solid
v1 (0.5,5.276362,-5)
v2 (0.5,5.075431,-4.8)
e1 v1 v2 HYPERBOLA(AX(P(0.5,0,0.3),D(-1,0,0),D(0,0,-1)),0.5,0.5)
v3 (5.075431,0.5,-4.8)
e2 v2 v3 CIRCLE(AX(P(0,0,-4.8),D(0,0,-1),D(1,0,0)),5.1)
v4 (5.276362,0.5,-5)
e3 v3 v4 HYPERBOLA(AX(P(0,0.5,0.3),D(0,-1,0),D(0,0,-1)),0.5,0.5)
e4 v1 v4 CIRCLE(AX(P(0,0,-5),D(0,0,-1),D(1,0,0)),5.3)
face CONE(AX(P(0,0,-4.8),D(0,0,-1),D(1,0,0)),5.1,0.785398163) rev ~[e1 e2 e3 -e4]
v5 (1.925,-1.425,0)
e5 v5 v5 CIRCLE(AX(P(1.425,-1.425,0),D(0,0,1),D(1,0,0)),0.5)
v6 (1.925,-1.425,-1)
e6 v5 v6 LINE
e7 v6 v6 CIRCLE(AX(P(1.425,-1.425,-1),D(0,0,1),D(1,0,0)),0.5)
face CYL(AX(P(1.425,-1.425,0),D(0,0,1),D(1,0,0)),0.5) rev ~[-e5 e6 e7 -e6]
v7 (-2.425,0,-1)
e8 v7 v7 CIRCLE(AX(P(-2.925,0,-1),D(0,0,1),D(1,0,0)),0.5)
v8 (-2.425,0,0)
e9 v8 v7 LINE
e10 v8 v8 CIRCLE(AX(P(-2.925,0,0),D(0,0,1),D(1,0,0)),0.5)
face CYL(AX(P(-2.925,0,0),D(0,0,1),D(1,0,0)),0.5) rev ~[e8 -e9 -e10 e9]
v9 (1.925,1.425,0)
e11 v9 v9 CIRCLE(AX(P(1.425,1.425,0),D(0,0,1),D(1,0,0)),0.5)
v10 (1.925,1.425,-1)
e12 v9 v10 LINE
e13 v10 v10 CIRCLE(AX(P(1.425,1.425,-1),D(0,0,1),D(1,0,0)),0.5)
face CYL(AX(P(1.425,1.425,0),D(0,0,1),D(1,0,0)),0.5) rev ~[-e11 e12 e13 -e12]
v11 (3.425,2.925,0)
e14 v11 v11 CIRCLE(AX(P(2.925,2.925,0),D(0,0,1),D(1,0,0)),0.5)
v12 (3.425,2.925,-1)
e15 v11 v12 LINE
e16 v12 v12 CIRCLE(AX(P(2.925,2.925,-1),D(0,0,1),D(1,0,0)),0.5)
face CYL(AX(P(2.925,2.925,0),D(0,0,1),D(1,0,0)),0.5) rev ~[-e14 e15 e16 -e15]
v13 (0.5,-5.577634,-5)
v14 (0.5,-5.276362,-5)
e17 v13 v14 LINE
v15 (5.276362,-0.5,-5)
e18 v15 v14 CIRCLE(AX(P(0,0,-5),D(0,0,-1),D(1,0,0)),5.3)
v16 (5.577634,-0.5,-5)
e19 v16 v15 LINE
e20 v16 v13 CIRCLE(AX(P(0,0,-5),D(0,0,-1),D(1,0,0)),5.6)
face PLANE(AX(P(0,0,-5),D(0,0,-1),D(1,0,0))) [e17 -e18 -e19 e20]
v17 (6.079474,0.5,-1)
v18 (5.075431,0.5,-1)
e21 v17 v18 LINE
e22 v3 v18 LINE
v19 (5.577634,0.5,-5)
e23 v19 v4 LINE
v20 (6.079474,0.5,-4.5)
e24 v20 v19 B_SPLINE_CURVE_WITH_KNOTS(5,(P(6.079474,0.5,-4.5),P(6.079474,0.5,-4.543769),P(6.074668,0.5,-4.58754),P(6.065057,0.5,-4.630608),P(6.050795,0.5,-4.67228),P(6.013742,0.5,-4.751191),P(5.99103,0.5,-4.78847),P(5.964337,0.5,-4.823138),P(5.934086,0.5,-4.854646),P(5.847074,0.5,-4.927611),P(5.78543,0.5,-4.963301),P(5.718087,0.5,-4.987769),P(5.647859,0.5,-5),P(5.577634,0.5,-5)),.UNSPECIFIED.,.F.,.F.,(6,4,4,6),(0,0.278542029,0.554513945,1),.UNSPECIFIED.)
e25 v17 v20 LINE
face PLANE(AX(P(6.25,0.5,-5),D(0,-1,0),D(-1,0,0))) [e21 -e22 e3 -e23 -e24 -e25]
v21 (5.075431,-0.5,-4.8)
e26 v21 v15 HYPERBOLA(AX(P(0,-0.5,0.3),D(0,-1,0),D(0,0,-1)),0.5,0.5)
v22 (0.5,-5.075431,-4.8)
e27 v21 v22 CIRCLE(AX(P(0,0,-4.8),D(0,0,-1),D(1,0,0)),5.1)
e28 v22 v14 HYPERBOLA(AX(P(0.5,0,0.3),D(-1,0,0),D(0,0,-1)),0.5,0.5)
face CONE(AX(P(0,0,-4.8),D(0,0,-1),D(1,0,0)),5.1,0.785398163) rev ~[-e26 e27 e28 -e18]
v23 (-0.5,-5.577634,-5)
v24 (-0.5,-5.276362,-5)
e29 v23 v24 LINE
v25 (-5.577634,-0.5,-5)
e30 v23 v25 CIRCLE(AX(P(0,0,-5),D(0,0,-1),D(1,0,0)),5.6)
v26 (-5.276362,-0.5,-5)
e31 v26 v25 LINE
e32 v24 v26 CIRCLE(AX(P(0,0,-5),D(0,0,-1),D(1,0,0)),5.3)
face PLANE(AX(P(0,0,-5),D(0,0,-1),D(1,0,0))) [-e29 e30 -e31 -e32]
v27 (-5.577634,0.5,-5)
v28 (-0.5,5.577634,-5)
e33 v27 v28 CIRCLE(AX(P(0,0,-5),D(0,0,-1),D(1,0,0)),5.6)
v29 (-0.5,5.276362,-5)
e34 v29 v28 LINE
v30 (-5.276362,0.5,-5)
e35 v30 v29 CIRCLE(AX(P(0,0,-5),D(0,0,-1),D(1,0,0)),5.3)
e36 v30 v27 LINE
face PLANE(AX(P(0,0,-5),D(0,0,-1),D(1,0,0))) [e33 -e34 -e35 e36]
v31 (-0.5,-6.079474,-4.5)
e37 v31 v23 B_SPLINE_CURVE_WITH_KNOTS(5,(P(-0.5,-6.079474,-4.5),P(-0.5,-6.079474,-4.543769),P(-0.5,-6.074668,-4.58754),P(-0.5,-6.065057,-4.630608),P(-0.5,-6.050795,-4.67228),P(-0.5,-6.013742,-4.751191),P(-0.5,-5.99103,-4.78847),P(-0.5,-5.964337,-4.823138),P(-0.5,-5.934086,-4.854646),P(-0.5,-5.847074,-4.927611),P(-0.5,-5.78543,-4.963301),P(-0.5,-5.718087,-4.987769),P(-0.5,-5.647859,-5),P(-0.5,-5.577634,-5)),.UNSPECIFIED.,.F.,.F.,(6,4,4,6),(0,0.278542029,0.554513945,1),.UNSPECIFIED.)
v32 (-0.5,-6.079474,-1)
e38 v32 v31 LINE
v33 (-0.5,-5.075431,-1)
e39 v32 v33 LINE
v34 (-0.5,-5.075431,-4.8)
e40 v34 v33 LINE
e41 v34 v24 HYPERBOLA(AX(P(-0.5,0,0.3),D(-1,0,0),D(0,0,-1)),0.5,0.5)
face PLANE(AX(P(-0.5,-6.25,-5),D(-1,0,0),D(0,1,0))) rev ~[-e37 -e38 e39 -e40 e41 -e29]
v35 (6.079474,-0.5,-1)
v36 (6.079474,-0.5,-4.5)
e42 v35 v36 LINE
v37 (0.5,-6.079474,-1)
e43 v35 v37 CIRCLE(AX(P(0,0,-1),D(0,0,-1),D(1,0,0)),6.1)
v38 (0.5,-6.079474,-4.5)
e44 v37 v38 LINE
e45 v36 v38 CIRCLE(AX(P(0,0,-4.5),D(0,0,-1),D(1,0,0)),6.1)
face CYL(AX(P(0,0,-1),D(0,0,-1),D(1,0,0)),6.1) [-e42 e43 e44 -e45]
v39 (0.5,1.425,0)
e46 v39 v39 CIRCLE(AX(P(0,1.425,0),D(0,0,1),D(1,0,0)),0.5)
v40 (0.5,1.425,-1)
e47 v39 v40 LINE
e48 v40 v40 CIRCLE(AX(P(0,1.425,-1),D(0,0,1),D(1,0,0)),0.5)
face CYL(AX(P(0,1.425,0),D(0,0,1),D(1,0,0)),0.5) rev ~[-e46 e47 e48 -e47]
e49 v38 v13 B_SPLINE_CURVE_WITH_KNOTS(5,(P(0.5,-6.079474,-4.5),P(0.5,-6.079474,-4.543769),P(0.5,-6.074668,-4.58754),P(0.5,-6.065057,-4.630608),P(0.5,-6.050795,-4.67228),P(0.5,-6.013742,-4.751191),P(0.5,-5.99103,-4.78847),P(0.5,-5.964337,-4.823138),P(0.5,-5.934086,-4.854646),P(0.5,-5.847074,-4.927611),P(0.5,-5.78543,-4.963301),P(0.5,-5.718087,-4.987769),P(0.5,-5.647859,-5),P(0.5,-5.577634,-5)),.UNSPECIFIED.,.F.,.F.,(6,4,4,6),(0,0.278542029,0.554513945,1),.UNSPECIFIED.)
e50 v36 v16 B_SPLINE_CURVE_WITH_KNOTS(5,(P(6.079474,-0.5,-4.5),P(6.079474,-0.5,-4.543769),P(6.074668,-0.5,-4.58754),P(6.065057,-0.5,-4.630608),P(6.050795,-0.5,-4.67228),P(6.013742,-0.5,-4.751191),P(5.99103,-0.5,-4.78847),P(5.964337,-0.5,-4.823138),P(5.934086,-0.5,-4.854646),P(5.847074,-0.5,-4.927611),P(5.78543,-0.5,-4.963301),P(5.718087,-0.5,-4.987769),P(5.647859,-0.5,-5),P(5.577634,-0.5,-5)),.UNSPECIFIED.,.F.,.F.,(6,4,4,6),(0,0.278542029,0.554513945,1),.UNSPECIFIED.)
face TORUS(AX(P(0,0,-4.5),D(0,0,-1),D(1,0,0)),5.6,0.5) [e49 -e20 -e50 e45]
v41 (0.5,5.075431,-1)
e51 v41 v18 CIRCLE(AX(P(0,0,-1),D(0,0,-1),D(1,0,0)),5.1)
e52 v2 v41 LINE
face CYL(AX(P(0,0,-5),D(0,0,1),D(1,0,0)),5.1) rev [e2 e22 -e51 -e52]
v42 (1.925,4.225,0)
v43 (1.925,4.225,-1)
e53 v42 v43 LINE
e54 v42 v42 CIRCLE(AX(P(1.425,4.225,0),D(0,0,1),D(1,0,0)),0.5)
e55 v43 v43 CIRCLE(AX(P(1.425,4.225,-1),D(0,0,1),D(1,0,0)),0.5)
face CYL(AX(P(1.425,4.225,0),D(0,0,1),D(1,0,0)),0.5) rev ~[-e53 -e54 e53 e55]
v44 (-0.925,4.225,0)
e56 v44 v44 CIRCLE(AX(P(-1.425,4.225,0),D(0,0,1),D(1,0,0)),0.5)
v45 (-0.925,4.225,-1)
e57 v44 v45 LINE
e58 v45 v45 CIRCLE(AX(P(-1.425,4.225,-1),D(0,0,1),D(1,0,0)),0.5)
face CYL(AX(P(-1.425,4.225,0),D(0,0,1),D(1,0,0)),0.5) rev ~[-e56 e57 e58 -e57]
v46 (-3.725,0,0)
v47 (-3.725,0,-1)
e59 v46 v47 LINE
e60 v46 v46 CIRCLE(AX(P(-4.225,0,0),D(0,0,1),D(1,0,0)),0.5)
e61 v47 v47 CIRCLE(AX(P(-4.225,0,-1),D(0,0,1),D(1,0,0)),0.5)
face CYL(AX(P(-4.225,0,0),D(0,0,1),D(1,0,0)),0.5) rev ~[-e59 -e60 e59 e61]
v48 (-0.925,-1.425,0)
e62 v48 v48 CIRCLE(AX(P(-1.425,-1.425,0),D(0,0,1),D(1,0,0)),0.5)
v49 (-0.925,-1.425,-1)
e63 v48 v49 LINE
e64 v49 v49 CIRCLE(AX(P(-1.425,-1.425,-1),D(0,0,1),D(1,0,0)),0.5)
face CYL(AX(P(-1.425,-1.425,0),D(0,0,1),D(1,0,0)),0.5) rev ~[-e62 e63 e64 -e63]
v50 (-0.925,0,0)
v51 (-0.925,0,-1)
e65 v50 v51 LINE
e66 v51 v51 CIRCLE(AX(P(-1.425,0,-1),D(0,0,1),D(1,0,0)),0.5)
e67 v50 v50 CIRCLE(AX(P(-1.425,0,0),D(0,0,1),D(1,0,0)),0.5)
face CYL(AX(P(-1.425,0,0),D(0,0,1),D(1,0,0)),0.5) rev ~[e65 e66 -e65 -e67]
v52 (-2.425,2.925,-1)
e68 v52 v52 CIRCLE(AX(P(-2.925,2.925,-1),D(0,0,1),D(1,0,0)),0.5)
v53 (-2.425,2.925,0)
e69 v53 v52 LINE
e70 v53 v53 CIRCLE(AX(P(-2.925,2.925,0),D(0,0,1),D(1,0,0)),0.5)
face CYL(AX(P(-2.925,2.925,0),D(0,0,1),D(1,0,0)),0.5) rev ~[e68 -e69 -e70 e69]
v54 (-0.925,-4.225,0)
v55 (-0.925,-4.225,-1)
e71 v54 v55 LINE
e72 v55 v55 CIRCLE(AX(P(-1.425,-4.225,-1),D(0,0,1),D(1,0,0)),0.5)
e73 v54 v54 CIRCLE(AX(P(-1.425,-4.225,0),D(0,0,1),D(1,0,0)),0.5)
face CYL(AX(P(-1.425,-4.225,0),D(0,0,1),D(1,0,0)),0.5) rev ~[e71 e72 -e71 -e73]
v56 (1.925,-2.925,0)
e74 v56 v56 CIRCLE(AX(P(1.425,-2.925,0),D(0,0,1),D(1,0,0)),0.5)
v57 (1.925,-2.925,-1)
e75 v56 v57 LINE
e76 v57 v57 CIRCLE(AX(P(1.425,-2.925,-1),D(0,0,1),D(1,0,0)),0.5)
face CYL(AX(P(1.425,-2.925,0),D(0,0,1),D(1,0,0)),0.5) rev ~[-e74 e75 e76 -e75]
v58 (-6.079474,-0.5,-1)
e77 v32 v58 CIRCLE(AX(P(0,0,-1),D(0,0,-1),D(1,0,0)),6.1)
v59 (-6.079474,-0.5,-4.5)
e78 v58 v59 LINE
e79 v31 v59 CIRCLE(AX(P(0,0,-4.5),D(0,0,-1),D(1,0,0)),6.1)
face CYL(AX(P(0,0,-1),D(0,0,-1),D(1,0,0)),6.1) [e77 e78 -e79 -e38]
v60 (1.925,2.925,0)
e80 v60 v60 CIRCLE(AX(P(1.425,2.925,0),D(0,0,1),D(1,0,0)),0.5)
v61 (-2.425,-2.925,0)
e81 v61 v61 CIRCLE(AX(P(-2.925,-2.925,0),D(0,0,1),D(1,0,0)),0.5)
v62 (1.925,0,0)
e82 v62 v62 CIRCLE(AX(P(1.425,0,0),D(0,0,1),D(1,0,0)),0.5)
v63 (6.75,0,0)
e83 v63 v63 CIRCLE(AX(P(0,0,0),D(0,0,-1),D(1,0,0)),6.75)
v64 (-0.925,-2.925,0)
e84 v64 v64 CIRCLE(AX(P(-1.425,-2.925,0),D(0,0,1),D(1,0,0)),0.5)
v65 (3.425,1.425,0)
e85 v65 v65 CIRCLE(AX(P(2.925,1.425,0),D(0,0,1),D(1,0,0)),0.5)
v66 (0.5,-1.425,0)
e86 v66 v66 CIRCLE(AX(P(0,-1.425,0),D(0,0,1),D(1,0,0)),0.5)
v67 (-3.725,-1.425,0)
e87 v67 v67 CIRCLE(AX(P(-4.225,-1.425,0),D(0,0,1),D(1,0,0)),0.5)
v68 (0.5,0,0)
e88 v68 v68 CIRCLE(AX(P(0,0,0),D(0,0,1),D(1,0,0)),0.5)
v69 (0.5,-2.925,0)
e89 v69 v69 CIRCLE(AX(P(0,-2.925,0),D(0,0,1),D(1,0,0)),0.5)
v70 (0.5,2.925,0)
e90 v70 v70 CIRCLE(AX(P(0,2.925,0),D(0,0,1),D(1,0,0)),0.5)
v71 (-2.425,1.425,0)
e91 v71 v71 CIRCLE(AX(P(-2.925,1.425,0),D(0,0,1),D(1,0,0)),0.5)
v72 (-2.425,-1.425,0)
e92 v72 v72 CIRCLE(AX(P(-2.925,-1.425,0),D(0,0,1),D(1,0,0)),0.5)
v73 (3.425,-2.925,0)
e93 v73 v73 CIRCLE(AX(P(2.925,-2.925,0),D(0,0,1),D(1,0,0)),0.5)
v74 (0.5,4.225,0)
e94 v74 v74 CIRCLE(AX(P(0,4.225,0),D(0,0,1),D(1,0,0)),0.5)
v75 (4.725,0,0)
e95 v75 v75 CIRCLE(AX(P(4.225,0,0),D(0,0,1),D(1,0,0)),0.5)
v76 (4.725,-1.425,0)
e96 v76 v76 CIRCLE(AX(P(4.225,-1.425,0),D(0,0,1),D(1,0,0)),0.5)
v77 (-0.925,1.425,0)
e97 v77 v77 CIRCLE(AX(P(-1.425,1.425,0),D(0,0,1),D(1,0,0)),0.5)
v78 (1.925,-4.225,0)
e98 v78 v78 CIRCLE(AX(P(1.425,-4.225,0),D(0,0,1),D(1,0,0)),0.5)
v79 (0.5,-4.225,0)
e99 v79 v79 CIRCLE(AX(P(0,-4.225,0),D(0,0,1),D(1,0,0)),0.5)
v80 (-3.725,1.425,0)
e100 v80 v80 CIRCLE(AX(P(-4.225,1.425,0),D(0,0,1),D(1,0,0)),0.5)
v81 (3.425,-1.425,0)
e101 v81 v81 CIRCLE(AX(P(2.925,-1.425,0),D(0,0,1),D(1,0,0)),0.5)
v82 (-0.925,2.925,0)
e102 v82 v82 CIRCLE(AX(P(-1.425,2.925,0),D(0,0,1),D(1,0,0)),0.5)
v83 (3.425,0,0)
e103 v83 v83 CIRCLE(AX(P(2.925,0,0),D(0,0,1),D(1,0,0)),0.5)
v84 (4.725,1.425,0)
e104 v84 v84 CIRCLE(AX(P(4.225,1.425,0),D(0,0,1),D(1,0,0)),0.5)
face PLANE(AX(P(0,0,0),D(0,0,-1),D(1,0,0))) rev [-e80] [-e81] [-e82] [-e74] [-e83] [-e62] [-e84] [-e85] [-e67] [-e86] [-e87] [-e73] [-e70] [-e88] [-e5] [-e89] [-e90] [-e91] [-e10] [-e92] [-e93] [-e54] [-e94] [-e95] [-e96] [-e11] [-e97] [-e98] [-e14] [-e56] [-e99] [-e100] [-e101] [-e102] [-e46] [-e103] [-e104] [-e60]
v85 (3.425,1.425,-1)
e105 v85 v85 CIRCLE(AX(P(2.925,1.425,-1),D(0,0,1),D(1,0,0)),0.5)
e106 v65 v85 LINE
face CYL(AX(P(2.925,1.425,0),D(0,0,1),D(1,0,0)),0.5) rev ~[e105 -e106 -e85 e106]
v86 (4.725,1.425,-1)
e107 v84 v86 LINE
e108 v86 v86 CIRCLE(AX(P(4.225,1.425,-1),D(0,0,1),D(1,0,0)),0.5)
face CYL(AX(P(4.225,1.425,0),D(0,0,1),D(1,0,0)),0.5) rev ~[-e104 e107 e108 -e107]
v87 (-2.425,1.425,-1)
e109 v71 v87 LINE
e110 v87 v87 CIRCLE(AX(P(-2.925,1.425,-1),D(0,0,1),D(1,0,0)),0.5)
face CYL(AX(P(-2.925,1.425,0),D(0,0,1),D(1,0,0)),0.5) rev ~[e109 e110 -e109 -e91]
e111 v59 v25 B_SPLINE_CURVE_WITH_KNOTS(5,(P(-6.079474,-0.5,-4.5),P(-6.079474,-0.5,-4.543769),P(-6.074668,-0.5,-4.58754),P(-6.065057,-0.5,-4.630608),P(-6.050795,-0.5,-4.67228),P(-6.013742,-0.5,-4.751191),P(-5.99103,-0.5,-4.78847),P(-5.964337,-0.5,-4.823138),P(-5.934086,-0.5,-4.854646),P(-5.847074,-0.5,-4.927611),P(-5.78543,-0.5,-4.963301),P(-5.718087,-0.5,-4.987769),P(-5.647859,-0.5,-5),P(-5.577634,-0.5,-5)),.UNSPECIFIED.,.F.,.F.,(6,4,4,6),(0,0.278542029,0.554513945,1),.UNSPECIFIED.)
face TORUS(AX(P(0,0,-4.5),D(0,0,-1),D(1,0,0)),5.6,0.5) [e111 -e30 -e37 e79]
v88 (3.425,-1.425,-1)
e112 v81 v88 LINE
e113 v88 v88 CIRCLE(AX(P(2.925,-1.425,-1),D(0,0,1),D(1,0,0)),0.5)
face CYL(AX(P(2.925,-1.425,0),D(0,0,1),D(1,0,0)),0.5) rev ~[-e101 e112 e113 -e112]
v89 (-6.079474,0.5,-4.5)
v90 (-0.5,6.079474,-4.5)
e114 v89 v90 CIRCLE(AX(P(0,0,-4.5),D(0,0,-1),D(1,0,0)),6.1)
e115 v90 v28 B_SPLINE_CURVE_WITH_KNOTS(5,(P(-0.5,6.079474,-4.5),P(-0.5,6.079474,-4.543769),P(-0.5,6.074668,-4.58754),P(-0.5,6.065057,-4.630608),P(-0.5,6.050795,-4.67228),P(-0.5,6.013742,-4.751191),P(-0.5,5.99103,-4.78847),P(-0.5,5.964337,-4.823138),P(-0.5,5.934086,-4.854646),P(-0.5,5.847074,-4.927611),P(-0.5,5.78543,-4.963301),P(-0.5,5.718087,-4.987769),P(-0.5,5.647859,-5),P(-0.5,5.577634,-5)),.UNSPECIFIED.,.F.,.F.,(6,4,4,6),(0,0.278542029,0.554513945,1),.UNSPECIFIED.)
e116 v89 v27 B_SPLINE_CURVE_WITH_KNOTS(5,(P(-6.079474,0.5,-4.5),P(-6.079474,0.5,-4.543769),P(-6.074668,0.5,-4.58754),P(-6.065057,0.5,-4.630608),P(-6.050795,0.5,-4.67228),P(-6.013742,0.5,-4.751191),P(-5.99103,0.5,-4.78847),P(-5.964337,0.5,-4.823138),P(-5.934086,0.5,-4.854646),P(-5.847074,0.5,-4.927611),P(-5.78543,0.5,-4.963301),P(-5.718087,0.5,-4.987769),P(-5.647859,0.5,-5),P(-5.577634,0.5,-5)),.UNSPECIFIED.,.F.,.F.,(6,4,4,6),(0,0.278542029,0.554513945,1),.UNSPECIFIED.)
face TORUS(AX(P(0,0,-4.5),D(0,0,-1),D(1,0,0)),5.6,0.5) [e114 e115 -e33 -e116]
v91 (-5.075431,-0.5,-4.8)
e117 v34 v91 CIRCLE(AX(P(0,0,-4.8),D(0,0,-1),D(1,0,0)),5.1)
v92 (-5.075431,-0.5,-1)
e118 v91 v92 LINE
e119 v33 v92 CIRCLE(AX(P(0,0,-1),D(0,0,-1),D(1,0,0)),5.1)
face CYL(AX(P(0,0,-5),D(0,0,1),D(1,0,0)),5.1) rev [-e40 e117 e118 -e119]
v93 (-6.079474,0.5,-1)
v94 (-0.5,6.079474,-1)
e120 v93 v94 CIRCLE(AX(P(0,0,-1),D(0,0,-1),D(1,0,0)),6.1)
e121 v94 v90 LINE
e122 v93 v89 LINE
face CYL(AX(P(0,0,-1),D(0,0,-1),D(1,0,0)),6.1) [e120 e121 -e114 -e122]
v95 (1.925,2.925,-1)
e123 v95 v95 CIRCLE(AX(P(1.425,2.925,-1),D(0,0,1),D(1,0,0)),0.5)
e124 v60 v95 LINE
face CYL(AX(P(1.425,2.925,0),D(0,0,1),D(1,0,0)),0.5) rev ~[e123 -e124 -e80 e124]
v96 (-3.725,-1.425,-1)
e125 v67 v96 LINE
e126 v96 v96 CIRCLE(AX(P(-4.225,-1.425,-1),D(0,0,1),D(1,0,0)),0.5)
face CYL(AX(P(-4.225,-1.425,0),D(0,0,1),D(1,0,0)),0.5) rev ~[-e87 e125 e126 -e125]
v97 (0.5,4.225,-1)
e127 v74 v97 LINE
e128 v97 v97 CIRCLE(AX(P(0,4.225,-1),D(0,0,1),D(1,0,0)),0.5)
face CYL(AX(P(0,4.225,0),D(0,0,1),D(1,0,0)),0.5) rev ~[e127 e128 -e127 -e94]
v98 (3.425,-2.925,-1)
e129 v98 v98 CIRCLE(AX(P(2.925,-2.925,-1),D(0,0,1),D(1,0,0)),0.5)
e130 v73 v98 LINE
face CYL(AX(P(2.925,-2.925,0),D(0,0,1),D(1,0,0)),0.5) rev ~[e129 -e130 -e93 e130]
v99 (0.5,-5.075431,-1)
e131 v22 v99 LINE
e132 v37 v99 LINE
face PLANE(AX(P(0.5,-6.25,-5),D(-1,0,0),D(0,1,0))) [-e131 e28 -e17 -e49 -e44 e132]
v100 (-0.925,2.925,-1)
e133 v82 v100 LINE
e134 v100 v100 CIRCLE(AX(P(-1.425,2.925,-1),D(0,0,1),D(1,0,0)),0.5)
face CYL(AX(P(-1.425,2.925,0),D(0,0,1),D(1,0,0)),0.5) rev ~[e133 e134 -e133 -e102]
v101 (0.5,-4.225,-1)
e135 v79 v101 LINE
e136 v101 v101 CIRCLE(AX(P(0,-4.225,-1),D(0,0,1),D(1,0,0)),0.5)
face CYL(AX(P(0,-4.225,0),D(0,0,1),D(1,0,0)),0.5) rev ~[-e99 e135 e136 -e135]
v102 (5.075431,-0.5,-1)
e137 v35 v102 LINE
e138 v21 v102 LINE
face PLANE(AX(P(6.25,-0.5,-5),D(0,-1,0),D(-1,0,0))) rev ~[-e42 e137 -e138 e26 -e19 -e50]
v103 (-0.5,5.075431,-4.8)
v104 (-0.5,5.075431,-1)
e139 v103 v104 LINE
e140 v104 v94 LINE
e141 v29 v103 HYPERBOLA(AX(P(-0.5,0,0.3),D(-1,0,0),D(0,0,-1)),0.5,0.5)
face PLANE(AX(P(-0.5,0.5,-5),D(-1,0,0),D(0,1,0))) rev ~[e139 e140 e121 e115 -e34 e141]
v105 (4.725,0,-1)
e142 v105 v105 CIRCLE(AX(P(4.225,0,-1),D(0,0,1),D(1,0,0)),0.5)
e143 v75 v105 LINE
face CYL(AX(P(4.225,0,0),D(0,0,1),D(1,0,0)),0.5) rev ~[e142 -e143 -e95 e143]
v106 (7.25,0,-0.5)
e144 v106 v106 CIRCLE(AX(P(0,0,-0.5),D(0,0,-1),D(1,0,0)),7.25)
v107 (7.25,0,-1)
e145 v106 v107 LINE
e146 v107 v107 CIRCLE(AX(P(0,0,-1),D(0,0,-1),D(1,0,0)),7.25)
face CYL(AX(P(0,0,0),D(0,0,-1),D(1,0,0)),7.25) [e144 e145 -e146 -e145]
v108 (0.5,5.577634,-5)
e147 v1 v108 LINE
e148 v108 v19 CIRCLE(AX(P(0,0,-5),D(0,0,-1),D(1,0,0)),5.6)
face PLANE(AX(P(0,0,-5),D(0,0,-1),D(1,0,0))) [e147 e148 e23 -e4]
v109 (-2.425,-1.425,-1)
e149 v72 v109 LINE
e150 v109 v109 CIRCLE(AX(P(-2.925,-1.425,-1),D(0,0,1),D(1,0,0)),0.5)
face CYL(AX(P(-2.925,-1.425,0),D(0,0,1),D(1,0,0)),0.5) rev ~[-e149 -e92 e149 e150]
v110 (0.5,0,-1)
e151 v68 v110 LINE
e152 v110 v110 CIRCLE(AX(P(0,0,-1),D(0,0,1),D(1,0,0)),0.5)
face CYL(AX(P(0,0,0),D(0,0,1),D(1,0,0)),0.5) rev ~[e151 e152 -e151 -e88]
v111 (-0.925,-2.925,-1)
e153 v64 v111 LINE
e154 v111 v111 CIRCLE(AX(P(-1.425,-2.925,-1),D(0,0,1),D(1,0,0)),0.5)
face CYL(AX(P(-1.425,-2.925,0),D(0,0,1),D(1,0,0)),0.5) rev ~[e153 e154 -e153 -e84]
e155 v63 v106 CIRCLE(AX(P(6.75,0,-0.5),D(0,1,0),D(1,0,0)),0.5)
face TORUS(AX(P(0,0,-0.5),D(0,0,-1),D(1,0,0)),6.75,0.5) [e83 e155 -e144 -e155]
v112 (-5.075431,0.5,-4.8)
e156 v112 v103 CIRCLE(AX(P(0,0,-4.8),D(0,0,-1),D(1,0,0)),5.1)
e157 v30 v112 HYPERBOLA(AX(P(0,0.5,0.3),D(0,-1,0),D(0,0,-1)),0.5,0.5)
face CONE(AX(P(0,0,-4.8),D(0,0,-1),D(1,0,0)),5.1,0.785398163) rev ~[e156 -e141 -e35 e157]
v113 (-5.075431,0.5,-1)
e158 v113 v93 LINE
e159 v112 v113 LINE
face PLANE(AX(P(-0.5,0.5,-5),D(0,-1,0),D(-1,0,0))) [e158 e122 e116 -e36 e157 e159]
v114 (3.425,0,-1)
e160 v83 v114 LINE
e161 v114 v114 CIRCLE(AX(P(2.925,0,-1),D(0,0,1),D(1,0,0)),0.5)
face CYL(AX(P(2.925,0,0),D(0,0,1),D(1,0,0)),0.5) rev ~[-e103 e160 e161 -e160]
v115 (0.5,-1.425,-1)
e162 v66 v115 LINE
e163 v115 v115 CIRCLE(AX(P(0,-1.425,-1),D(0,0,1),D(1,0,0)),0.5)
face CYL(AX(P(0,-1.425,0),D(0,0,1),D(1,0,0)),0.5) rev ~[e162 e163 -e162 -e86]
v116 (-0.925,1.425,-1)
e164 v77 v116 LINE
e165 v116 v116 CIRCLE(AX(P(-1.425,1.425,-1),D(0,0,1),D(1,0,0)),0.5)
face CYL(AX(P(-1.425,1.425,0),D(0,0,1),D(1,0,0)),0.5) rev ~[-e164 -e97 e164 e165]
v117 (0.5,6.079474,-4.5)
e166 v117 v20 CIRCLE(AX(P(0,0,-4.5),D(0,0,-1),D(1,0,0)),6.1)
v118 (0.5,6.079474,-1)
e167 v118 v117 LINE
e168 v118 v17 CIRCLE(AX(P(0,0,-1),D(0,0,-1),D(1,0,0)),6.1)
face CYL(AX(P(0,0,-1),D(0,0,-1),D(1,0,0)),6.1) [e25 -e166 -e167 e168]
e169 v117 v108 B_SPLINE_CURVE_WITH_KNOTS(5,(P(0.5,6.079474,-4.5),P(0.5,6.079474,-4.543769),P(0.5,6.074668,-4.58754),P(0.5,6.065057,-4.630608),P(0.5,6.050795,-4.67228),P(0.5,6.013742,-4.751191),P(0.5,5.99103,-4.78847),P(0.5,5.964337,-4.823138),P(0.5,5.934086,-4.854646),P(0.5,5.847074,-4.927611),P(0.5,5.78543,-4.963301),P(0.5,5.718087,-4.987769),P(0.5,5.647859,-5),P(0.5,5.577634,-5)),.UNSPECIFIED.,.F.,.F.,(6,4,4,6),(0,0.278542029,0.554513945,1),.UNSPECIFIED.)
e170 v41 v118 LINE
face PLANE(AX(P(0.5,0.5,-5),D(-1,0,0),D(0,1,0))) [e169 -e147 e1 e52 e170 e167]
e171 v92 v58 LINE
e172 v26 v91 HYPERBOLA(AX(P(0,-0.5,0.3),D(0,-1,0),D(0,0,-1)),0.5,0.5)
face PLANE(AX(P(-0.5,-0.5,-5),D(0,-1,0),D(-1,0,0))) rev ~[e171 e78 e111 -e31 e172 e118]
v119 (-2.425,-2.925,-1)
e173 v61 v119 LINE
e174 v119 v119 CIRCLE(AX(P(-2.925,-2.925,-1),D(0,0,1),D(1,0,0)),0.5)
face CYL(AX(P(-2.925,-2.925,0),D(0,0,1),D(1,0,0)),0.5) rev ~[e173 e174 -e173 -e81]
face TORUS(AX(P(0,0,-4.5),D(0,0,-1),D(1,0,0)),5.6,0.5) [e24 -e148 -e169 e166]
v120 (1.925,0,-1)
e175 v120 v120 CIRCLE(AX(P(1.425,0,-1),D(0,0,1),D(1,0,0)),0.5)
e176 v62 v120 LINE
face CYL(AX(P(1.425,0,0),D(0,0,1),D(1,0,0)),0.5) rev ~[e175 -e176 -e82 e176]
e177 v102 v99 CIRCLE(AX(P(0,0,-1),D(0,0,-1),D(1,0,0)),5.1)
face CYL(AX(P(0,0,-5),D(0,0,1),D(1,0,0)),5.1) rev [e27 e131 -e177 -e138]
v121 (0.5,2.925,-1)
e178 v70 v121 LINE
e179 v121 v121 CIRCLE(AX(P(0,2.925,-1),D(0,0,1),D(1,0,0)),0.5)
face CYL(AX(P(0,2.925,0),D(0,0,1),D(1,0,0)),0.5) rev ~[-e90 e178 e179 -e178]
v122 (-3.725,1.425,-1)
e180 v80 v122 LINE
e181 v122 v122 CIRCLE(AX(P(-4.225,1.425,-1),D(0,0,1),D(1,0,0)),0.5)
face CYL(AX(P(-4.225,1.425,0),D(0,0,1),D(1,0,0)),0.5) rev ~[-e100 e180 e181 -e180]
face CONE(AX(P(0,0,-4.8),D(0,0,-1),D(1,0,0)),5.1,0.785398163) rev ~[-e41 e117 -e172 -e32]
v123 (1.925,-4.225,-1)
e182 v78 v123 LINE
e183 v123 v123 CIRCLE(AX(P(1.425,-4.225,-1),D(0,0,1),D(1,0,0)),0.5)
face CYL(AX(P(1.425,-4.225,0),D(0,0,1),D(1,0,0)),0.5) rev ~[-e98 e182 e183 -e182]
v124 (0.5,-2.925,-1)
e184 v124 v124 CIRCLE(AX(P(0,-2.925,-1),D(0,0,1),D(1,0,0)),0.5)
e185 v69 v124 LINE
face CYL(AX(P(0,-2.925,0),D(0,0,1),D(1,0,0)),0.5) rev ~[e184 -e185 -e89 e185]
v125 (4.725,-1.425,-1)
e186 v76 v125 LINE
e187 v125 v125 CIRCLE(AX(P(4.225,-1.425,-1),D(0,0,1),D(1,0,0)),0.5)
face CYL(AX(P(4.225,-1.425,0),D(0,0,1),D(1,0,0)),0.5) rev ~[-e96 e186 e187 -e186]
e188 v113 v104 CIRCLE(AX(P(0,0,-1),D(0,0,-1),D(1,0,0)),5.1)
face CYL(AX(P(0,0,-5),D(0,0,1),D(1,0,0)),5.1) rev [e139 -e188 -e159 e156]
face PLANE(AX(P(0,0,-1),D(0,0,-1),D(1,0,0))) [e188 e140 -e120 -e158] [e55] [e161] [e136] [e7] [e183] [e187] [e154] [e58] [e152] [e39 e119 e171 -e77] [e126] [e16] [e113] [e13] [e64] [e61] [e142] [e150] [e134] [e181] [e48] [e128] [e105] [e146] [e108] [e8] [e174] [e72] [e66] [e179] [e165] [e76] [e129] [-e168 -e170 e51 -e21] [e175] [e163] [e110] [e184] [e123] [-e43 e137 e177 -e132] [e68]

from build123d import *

# Parameters (mm, degrees)
SKETCH3_R          = 0.5
CUT_EXTRUDE1_DEPTH = 10
FILLET1_R          = 0.5
CHAMFER1_SIZE      = 0.2
SKETCH4_W          = 1
SKETCH4_H          = 12.5
SKETCH4_W_2        = 12.5
SKETCH4_H_2        = 1
CUT_EXTRUDE2_DEPTH = 4


with BuildPart() as part:
    # Sketch2 → Revolve1 (revolve)
    with BuildSketch(Plane(origin=(0, 0, 0), x_dir=(0, 0, -1), z_dir=(1, 0, 0)), mode=Mode.PRIVATE) as revolve1_sk:
        Polygon((0, 0), (0, 7.25), (1, 7.25), (1, 6.1), (5, 6.1), (5, 5.1), (1, 5.1), (1, 0), align=None)
    revolve(revolve1_sk.sketch.rotate(Axis((0, 0, 0), (0, 0, -1)), 90), axis=Axis((0, 0, 0), (0, 0, -1)))

    # Sketch3 → Cut-Extrude1 (cut)
    with BuildSketch(Plane.XY):
        with Locations((-1.425, 1.425)):
            Circle(SKETCH3_R)
        with Locations((1.425, 1.425)):
            Circle(SKETCH3_R)
        with Locations((0, 1.425)):
            Circle(SKETCH3_R)
        with Locations((1.425, 0)):
            Circle(SKETCH3_R)
        with Locations((1.425, -1.425)):
            Circle(SKETCH3_R)
        with Locations((0, -1.425)):
            Circle(SKETCH3_R)
        with Locations((-1.425, -1.425)):
            Circle(SKETCH3_R)
        with Locations((-1.425, 0)):
            Circle(SKETCH3_R)
        with Locations((-2.925, 2.925)):
            Circle(SKETCH3_R)
        with Locations((0, 2.925)):
            Circle(SKETCH3_R)
        with Locations((2.925, 2.925)):
            Circle(SKETCH3_R)
        with Locations((2.925, 0)):
            Circle(SKETCH3_R)
        with Locations((2.925, -2.925)):
            Circle(SKETCH3_R)
        with Locations((0, -2.925)):
            Circle(SKETCH3_R)
        with Locations((-2.925, -2.925)):
            Circle(SKETCH3_R)
        with Locations((-2.925, 0)):
            Circle(SKETCH3_R)
        with Locations((-1.425, 2.925)):
            Circle(SKETCH3_R)
        with Locations((1.425, 2.925)):
            Circle(SKETCH3_R)
        with Locations((2.925, 1.425)):
            Circle(SKETCH3_R)
        with Locations((2.925, -1.425)):
            Circle(SKETCH3_R)
        with Locations((1.425, -2.925)):
            Circle(SKETCH3_R)
        with Locations((-1.425, -2.925)):
            Circle(SKETCH3_R)
        with Locations((-2.925, -1.425)):
            Circle(SKETCH3_R)
        with Locations((-2.925, 1.425)):
            Circle(SKETCH3_R)
        with Locations((-1.425, 4.225)):
            Circle(SKETCH3_R)
        with Locations((0, 4.225)):
            Circle(SKETCH3_R)
        with Locations((1.425, 4.225)):
            Circle(SKETCH3_R)
        with Locations((4.225, 1.425)):
            Circle(SKETCH3_R)
        with Locations((4.225, 0)):
            Circle(SKETCH3_R)
        with Locations((4.225, -1.425)):
            Circle(SKETCH3_R)
        with Locations((1.425, -4.225)):
            Circle(SKETCH3_R)
        with Locations((0, -4.225)):
            Circle(SKETCH3_R)
        with Locations((-1.425, -4.225)):
            Circle(SKETCH3_R)
        with Locations((-4.225, -1.425)):
            Circle(SKETCH3_R)
        with Locations((-4.225, 0)):
            Circle(SKETCH3_R)
        with Locations((-4.225, 1.425)):
            Circle(SKETCH3_R)
        Circle(SKETCH3_R)
    extrude(amount=-CUT_EXTRUDE1_DEPTH, mode=Mode.SUBTRACT)

    # Fillet1
    fillet1_edges = [part.edges().sort_by_distance(p)[0] for p in [
        (-6.1, 0, -5),
        (-7.25, 0, 0),
    ]]
    fillet(fillet1_edges, radius=FILLET1_R)

    # Chamfer1
    chamfer1_edges = [part.edges().sort_by_distance(p)[0] for p in [
        (-5.1, 0, -5),
    ]]
    chamfer(chamfer1_edges, length=CHAMFER1_SIZE)

    # Sketch4 → Cut-Extrude2 (cut)
    with BuildSketch(Plane(origin=(0, 0, -5), x_dir=(-1, 0, 0), z_dir=(0, 0, -1))):
        Rectangle(SKETCH4_W, SKETCH4_H)
        Rectangle(SKETCH4_W_2, SKETCH4_H_2)
    extrude(amount=-CUT_EXTRUDE2_DEPTH, mode=Mode.SUBTRACT)


solid = part.part
